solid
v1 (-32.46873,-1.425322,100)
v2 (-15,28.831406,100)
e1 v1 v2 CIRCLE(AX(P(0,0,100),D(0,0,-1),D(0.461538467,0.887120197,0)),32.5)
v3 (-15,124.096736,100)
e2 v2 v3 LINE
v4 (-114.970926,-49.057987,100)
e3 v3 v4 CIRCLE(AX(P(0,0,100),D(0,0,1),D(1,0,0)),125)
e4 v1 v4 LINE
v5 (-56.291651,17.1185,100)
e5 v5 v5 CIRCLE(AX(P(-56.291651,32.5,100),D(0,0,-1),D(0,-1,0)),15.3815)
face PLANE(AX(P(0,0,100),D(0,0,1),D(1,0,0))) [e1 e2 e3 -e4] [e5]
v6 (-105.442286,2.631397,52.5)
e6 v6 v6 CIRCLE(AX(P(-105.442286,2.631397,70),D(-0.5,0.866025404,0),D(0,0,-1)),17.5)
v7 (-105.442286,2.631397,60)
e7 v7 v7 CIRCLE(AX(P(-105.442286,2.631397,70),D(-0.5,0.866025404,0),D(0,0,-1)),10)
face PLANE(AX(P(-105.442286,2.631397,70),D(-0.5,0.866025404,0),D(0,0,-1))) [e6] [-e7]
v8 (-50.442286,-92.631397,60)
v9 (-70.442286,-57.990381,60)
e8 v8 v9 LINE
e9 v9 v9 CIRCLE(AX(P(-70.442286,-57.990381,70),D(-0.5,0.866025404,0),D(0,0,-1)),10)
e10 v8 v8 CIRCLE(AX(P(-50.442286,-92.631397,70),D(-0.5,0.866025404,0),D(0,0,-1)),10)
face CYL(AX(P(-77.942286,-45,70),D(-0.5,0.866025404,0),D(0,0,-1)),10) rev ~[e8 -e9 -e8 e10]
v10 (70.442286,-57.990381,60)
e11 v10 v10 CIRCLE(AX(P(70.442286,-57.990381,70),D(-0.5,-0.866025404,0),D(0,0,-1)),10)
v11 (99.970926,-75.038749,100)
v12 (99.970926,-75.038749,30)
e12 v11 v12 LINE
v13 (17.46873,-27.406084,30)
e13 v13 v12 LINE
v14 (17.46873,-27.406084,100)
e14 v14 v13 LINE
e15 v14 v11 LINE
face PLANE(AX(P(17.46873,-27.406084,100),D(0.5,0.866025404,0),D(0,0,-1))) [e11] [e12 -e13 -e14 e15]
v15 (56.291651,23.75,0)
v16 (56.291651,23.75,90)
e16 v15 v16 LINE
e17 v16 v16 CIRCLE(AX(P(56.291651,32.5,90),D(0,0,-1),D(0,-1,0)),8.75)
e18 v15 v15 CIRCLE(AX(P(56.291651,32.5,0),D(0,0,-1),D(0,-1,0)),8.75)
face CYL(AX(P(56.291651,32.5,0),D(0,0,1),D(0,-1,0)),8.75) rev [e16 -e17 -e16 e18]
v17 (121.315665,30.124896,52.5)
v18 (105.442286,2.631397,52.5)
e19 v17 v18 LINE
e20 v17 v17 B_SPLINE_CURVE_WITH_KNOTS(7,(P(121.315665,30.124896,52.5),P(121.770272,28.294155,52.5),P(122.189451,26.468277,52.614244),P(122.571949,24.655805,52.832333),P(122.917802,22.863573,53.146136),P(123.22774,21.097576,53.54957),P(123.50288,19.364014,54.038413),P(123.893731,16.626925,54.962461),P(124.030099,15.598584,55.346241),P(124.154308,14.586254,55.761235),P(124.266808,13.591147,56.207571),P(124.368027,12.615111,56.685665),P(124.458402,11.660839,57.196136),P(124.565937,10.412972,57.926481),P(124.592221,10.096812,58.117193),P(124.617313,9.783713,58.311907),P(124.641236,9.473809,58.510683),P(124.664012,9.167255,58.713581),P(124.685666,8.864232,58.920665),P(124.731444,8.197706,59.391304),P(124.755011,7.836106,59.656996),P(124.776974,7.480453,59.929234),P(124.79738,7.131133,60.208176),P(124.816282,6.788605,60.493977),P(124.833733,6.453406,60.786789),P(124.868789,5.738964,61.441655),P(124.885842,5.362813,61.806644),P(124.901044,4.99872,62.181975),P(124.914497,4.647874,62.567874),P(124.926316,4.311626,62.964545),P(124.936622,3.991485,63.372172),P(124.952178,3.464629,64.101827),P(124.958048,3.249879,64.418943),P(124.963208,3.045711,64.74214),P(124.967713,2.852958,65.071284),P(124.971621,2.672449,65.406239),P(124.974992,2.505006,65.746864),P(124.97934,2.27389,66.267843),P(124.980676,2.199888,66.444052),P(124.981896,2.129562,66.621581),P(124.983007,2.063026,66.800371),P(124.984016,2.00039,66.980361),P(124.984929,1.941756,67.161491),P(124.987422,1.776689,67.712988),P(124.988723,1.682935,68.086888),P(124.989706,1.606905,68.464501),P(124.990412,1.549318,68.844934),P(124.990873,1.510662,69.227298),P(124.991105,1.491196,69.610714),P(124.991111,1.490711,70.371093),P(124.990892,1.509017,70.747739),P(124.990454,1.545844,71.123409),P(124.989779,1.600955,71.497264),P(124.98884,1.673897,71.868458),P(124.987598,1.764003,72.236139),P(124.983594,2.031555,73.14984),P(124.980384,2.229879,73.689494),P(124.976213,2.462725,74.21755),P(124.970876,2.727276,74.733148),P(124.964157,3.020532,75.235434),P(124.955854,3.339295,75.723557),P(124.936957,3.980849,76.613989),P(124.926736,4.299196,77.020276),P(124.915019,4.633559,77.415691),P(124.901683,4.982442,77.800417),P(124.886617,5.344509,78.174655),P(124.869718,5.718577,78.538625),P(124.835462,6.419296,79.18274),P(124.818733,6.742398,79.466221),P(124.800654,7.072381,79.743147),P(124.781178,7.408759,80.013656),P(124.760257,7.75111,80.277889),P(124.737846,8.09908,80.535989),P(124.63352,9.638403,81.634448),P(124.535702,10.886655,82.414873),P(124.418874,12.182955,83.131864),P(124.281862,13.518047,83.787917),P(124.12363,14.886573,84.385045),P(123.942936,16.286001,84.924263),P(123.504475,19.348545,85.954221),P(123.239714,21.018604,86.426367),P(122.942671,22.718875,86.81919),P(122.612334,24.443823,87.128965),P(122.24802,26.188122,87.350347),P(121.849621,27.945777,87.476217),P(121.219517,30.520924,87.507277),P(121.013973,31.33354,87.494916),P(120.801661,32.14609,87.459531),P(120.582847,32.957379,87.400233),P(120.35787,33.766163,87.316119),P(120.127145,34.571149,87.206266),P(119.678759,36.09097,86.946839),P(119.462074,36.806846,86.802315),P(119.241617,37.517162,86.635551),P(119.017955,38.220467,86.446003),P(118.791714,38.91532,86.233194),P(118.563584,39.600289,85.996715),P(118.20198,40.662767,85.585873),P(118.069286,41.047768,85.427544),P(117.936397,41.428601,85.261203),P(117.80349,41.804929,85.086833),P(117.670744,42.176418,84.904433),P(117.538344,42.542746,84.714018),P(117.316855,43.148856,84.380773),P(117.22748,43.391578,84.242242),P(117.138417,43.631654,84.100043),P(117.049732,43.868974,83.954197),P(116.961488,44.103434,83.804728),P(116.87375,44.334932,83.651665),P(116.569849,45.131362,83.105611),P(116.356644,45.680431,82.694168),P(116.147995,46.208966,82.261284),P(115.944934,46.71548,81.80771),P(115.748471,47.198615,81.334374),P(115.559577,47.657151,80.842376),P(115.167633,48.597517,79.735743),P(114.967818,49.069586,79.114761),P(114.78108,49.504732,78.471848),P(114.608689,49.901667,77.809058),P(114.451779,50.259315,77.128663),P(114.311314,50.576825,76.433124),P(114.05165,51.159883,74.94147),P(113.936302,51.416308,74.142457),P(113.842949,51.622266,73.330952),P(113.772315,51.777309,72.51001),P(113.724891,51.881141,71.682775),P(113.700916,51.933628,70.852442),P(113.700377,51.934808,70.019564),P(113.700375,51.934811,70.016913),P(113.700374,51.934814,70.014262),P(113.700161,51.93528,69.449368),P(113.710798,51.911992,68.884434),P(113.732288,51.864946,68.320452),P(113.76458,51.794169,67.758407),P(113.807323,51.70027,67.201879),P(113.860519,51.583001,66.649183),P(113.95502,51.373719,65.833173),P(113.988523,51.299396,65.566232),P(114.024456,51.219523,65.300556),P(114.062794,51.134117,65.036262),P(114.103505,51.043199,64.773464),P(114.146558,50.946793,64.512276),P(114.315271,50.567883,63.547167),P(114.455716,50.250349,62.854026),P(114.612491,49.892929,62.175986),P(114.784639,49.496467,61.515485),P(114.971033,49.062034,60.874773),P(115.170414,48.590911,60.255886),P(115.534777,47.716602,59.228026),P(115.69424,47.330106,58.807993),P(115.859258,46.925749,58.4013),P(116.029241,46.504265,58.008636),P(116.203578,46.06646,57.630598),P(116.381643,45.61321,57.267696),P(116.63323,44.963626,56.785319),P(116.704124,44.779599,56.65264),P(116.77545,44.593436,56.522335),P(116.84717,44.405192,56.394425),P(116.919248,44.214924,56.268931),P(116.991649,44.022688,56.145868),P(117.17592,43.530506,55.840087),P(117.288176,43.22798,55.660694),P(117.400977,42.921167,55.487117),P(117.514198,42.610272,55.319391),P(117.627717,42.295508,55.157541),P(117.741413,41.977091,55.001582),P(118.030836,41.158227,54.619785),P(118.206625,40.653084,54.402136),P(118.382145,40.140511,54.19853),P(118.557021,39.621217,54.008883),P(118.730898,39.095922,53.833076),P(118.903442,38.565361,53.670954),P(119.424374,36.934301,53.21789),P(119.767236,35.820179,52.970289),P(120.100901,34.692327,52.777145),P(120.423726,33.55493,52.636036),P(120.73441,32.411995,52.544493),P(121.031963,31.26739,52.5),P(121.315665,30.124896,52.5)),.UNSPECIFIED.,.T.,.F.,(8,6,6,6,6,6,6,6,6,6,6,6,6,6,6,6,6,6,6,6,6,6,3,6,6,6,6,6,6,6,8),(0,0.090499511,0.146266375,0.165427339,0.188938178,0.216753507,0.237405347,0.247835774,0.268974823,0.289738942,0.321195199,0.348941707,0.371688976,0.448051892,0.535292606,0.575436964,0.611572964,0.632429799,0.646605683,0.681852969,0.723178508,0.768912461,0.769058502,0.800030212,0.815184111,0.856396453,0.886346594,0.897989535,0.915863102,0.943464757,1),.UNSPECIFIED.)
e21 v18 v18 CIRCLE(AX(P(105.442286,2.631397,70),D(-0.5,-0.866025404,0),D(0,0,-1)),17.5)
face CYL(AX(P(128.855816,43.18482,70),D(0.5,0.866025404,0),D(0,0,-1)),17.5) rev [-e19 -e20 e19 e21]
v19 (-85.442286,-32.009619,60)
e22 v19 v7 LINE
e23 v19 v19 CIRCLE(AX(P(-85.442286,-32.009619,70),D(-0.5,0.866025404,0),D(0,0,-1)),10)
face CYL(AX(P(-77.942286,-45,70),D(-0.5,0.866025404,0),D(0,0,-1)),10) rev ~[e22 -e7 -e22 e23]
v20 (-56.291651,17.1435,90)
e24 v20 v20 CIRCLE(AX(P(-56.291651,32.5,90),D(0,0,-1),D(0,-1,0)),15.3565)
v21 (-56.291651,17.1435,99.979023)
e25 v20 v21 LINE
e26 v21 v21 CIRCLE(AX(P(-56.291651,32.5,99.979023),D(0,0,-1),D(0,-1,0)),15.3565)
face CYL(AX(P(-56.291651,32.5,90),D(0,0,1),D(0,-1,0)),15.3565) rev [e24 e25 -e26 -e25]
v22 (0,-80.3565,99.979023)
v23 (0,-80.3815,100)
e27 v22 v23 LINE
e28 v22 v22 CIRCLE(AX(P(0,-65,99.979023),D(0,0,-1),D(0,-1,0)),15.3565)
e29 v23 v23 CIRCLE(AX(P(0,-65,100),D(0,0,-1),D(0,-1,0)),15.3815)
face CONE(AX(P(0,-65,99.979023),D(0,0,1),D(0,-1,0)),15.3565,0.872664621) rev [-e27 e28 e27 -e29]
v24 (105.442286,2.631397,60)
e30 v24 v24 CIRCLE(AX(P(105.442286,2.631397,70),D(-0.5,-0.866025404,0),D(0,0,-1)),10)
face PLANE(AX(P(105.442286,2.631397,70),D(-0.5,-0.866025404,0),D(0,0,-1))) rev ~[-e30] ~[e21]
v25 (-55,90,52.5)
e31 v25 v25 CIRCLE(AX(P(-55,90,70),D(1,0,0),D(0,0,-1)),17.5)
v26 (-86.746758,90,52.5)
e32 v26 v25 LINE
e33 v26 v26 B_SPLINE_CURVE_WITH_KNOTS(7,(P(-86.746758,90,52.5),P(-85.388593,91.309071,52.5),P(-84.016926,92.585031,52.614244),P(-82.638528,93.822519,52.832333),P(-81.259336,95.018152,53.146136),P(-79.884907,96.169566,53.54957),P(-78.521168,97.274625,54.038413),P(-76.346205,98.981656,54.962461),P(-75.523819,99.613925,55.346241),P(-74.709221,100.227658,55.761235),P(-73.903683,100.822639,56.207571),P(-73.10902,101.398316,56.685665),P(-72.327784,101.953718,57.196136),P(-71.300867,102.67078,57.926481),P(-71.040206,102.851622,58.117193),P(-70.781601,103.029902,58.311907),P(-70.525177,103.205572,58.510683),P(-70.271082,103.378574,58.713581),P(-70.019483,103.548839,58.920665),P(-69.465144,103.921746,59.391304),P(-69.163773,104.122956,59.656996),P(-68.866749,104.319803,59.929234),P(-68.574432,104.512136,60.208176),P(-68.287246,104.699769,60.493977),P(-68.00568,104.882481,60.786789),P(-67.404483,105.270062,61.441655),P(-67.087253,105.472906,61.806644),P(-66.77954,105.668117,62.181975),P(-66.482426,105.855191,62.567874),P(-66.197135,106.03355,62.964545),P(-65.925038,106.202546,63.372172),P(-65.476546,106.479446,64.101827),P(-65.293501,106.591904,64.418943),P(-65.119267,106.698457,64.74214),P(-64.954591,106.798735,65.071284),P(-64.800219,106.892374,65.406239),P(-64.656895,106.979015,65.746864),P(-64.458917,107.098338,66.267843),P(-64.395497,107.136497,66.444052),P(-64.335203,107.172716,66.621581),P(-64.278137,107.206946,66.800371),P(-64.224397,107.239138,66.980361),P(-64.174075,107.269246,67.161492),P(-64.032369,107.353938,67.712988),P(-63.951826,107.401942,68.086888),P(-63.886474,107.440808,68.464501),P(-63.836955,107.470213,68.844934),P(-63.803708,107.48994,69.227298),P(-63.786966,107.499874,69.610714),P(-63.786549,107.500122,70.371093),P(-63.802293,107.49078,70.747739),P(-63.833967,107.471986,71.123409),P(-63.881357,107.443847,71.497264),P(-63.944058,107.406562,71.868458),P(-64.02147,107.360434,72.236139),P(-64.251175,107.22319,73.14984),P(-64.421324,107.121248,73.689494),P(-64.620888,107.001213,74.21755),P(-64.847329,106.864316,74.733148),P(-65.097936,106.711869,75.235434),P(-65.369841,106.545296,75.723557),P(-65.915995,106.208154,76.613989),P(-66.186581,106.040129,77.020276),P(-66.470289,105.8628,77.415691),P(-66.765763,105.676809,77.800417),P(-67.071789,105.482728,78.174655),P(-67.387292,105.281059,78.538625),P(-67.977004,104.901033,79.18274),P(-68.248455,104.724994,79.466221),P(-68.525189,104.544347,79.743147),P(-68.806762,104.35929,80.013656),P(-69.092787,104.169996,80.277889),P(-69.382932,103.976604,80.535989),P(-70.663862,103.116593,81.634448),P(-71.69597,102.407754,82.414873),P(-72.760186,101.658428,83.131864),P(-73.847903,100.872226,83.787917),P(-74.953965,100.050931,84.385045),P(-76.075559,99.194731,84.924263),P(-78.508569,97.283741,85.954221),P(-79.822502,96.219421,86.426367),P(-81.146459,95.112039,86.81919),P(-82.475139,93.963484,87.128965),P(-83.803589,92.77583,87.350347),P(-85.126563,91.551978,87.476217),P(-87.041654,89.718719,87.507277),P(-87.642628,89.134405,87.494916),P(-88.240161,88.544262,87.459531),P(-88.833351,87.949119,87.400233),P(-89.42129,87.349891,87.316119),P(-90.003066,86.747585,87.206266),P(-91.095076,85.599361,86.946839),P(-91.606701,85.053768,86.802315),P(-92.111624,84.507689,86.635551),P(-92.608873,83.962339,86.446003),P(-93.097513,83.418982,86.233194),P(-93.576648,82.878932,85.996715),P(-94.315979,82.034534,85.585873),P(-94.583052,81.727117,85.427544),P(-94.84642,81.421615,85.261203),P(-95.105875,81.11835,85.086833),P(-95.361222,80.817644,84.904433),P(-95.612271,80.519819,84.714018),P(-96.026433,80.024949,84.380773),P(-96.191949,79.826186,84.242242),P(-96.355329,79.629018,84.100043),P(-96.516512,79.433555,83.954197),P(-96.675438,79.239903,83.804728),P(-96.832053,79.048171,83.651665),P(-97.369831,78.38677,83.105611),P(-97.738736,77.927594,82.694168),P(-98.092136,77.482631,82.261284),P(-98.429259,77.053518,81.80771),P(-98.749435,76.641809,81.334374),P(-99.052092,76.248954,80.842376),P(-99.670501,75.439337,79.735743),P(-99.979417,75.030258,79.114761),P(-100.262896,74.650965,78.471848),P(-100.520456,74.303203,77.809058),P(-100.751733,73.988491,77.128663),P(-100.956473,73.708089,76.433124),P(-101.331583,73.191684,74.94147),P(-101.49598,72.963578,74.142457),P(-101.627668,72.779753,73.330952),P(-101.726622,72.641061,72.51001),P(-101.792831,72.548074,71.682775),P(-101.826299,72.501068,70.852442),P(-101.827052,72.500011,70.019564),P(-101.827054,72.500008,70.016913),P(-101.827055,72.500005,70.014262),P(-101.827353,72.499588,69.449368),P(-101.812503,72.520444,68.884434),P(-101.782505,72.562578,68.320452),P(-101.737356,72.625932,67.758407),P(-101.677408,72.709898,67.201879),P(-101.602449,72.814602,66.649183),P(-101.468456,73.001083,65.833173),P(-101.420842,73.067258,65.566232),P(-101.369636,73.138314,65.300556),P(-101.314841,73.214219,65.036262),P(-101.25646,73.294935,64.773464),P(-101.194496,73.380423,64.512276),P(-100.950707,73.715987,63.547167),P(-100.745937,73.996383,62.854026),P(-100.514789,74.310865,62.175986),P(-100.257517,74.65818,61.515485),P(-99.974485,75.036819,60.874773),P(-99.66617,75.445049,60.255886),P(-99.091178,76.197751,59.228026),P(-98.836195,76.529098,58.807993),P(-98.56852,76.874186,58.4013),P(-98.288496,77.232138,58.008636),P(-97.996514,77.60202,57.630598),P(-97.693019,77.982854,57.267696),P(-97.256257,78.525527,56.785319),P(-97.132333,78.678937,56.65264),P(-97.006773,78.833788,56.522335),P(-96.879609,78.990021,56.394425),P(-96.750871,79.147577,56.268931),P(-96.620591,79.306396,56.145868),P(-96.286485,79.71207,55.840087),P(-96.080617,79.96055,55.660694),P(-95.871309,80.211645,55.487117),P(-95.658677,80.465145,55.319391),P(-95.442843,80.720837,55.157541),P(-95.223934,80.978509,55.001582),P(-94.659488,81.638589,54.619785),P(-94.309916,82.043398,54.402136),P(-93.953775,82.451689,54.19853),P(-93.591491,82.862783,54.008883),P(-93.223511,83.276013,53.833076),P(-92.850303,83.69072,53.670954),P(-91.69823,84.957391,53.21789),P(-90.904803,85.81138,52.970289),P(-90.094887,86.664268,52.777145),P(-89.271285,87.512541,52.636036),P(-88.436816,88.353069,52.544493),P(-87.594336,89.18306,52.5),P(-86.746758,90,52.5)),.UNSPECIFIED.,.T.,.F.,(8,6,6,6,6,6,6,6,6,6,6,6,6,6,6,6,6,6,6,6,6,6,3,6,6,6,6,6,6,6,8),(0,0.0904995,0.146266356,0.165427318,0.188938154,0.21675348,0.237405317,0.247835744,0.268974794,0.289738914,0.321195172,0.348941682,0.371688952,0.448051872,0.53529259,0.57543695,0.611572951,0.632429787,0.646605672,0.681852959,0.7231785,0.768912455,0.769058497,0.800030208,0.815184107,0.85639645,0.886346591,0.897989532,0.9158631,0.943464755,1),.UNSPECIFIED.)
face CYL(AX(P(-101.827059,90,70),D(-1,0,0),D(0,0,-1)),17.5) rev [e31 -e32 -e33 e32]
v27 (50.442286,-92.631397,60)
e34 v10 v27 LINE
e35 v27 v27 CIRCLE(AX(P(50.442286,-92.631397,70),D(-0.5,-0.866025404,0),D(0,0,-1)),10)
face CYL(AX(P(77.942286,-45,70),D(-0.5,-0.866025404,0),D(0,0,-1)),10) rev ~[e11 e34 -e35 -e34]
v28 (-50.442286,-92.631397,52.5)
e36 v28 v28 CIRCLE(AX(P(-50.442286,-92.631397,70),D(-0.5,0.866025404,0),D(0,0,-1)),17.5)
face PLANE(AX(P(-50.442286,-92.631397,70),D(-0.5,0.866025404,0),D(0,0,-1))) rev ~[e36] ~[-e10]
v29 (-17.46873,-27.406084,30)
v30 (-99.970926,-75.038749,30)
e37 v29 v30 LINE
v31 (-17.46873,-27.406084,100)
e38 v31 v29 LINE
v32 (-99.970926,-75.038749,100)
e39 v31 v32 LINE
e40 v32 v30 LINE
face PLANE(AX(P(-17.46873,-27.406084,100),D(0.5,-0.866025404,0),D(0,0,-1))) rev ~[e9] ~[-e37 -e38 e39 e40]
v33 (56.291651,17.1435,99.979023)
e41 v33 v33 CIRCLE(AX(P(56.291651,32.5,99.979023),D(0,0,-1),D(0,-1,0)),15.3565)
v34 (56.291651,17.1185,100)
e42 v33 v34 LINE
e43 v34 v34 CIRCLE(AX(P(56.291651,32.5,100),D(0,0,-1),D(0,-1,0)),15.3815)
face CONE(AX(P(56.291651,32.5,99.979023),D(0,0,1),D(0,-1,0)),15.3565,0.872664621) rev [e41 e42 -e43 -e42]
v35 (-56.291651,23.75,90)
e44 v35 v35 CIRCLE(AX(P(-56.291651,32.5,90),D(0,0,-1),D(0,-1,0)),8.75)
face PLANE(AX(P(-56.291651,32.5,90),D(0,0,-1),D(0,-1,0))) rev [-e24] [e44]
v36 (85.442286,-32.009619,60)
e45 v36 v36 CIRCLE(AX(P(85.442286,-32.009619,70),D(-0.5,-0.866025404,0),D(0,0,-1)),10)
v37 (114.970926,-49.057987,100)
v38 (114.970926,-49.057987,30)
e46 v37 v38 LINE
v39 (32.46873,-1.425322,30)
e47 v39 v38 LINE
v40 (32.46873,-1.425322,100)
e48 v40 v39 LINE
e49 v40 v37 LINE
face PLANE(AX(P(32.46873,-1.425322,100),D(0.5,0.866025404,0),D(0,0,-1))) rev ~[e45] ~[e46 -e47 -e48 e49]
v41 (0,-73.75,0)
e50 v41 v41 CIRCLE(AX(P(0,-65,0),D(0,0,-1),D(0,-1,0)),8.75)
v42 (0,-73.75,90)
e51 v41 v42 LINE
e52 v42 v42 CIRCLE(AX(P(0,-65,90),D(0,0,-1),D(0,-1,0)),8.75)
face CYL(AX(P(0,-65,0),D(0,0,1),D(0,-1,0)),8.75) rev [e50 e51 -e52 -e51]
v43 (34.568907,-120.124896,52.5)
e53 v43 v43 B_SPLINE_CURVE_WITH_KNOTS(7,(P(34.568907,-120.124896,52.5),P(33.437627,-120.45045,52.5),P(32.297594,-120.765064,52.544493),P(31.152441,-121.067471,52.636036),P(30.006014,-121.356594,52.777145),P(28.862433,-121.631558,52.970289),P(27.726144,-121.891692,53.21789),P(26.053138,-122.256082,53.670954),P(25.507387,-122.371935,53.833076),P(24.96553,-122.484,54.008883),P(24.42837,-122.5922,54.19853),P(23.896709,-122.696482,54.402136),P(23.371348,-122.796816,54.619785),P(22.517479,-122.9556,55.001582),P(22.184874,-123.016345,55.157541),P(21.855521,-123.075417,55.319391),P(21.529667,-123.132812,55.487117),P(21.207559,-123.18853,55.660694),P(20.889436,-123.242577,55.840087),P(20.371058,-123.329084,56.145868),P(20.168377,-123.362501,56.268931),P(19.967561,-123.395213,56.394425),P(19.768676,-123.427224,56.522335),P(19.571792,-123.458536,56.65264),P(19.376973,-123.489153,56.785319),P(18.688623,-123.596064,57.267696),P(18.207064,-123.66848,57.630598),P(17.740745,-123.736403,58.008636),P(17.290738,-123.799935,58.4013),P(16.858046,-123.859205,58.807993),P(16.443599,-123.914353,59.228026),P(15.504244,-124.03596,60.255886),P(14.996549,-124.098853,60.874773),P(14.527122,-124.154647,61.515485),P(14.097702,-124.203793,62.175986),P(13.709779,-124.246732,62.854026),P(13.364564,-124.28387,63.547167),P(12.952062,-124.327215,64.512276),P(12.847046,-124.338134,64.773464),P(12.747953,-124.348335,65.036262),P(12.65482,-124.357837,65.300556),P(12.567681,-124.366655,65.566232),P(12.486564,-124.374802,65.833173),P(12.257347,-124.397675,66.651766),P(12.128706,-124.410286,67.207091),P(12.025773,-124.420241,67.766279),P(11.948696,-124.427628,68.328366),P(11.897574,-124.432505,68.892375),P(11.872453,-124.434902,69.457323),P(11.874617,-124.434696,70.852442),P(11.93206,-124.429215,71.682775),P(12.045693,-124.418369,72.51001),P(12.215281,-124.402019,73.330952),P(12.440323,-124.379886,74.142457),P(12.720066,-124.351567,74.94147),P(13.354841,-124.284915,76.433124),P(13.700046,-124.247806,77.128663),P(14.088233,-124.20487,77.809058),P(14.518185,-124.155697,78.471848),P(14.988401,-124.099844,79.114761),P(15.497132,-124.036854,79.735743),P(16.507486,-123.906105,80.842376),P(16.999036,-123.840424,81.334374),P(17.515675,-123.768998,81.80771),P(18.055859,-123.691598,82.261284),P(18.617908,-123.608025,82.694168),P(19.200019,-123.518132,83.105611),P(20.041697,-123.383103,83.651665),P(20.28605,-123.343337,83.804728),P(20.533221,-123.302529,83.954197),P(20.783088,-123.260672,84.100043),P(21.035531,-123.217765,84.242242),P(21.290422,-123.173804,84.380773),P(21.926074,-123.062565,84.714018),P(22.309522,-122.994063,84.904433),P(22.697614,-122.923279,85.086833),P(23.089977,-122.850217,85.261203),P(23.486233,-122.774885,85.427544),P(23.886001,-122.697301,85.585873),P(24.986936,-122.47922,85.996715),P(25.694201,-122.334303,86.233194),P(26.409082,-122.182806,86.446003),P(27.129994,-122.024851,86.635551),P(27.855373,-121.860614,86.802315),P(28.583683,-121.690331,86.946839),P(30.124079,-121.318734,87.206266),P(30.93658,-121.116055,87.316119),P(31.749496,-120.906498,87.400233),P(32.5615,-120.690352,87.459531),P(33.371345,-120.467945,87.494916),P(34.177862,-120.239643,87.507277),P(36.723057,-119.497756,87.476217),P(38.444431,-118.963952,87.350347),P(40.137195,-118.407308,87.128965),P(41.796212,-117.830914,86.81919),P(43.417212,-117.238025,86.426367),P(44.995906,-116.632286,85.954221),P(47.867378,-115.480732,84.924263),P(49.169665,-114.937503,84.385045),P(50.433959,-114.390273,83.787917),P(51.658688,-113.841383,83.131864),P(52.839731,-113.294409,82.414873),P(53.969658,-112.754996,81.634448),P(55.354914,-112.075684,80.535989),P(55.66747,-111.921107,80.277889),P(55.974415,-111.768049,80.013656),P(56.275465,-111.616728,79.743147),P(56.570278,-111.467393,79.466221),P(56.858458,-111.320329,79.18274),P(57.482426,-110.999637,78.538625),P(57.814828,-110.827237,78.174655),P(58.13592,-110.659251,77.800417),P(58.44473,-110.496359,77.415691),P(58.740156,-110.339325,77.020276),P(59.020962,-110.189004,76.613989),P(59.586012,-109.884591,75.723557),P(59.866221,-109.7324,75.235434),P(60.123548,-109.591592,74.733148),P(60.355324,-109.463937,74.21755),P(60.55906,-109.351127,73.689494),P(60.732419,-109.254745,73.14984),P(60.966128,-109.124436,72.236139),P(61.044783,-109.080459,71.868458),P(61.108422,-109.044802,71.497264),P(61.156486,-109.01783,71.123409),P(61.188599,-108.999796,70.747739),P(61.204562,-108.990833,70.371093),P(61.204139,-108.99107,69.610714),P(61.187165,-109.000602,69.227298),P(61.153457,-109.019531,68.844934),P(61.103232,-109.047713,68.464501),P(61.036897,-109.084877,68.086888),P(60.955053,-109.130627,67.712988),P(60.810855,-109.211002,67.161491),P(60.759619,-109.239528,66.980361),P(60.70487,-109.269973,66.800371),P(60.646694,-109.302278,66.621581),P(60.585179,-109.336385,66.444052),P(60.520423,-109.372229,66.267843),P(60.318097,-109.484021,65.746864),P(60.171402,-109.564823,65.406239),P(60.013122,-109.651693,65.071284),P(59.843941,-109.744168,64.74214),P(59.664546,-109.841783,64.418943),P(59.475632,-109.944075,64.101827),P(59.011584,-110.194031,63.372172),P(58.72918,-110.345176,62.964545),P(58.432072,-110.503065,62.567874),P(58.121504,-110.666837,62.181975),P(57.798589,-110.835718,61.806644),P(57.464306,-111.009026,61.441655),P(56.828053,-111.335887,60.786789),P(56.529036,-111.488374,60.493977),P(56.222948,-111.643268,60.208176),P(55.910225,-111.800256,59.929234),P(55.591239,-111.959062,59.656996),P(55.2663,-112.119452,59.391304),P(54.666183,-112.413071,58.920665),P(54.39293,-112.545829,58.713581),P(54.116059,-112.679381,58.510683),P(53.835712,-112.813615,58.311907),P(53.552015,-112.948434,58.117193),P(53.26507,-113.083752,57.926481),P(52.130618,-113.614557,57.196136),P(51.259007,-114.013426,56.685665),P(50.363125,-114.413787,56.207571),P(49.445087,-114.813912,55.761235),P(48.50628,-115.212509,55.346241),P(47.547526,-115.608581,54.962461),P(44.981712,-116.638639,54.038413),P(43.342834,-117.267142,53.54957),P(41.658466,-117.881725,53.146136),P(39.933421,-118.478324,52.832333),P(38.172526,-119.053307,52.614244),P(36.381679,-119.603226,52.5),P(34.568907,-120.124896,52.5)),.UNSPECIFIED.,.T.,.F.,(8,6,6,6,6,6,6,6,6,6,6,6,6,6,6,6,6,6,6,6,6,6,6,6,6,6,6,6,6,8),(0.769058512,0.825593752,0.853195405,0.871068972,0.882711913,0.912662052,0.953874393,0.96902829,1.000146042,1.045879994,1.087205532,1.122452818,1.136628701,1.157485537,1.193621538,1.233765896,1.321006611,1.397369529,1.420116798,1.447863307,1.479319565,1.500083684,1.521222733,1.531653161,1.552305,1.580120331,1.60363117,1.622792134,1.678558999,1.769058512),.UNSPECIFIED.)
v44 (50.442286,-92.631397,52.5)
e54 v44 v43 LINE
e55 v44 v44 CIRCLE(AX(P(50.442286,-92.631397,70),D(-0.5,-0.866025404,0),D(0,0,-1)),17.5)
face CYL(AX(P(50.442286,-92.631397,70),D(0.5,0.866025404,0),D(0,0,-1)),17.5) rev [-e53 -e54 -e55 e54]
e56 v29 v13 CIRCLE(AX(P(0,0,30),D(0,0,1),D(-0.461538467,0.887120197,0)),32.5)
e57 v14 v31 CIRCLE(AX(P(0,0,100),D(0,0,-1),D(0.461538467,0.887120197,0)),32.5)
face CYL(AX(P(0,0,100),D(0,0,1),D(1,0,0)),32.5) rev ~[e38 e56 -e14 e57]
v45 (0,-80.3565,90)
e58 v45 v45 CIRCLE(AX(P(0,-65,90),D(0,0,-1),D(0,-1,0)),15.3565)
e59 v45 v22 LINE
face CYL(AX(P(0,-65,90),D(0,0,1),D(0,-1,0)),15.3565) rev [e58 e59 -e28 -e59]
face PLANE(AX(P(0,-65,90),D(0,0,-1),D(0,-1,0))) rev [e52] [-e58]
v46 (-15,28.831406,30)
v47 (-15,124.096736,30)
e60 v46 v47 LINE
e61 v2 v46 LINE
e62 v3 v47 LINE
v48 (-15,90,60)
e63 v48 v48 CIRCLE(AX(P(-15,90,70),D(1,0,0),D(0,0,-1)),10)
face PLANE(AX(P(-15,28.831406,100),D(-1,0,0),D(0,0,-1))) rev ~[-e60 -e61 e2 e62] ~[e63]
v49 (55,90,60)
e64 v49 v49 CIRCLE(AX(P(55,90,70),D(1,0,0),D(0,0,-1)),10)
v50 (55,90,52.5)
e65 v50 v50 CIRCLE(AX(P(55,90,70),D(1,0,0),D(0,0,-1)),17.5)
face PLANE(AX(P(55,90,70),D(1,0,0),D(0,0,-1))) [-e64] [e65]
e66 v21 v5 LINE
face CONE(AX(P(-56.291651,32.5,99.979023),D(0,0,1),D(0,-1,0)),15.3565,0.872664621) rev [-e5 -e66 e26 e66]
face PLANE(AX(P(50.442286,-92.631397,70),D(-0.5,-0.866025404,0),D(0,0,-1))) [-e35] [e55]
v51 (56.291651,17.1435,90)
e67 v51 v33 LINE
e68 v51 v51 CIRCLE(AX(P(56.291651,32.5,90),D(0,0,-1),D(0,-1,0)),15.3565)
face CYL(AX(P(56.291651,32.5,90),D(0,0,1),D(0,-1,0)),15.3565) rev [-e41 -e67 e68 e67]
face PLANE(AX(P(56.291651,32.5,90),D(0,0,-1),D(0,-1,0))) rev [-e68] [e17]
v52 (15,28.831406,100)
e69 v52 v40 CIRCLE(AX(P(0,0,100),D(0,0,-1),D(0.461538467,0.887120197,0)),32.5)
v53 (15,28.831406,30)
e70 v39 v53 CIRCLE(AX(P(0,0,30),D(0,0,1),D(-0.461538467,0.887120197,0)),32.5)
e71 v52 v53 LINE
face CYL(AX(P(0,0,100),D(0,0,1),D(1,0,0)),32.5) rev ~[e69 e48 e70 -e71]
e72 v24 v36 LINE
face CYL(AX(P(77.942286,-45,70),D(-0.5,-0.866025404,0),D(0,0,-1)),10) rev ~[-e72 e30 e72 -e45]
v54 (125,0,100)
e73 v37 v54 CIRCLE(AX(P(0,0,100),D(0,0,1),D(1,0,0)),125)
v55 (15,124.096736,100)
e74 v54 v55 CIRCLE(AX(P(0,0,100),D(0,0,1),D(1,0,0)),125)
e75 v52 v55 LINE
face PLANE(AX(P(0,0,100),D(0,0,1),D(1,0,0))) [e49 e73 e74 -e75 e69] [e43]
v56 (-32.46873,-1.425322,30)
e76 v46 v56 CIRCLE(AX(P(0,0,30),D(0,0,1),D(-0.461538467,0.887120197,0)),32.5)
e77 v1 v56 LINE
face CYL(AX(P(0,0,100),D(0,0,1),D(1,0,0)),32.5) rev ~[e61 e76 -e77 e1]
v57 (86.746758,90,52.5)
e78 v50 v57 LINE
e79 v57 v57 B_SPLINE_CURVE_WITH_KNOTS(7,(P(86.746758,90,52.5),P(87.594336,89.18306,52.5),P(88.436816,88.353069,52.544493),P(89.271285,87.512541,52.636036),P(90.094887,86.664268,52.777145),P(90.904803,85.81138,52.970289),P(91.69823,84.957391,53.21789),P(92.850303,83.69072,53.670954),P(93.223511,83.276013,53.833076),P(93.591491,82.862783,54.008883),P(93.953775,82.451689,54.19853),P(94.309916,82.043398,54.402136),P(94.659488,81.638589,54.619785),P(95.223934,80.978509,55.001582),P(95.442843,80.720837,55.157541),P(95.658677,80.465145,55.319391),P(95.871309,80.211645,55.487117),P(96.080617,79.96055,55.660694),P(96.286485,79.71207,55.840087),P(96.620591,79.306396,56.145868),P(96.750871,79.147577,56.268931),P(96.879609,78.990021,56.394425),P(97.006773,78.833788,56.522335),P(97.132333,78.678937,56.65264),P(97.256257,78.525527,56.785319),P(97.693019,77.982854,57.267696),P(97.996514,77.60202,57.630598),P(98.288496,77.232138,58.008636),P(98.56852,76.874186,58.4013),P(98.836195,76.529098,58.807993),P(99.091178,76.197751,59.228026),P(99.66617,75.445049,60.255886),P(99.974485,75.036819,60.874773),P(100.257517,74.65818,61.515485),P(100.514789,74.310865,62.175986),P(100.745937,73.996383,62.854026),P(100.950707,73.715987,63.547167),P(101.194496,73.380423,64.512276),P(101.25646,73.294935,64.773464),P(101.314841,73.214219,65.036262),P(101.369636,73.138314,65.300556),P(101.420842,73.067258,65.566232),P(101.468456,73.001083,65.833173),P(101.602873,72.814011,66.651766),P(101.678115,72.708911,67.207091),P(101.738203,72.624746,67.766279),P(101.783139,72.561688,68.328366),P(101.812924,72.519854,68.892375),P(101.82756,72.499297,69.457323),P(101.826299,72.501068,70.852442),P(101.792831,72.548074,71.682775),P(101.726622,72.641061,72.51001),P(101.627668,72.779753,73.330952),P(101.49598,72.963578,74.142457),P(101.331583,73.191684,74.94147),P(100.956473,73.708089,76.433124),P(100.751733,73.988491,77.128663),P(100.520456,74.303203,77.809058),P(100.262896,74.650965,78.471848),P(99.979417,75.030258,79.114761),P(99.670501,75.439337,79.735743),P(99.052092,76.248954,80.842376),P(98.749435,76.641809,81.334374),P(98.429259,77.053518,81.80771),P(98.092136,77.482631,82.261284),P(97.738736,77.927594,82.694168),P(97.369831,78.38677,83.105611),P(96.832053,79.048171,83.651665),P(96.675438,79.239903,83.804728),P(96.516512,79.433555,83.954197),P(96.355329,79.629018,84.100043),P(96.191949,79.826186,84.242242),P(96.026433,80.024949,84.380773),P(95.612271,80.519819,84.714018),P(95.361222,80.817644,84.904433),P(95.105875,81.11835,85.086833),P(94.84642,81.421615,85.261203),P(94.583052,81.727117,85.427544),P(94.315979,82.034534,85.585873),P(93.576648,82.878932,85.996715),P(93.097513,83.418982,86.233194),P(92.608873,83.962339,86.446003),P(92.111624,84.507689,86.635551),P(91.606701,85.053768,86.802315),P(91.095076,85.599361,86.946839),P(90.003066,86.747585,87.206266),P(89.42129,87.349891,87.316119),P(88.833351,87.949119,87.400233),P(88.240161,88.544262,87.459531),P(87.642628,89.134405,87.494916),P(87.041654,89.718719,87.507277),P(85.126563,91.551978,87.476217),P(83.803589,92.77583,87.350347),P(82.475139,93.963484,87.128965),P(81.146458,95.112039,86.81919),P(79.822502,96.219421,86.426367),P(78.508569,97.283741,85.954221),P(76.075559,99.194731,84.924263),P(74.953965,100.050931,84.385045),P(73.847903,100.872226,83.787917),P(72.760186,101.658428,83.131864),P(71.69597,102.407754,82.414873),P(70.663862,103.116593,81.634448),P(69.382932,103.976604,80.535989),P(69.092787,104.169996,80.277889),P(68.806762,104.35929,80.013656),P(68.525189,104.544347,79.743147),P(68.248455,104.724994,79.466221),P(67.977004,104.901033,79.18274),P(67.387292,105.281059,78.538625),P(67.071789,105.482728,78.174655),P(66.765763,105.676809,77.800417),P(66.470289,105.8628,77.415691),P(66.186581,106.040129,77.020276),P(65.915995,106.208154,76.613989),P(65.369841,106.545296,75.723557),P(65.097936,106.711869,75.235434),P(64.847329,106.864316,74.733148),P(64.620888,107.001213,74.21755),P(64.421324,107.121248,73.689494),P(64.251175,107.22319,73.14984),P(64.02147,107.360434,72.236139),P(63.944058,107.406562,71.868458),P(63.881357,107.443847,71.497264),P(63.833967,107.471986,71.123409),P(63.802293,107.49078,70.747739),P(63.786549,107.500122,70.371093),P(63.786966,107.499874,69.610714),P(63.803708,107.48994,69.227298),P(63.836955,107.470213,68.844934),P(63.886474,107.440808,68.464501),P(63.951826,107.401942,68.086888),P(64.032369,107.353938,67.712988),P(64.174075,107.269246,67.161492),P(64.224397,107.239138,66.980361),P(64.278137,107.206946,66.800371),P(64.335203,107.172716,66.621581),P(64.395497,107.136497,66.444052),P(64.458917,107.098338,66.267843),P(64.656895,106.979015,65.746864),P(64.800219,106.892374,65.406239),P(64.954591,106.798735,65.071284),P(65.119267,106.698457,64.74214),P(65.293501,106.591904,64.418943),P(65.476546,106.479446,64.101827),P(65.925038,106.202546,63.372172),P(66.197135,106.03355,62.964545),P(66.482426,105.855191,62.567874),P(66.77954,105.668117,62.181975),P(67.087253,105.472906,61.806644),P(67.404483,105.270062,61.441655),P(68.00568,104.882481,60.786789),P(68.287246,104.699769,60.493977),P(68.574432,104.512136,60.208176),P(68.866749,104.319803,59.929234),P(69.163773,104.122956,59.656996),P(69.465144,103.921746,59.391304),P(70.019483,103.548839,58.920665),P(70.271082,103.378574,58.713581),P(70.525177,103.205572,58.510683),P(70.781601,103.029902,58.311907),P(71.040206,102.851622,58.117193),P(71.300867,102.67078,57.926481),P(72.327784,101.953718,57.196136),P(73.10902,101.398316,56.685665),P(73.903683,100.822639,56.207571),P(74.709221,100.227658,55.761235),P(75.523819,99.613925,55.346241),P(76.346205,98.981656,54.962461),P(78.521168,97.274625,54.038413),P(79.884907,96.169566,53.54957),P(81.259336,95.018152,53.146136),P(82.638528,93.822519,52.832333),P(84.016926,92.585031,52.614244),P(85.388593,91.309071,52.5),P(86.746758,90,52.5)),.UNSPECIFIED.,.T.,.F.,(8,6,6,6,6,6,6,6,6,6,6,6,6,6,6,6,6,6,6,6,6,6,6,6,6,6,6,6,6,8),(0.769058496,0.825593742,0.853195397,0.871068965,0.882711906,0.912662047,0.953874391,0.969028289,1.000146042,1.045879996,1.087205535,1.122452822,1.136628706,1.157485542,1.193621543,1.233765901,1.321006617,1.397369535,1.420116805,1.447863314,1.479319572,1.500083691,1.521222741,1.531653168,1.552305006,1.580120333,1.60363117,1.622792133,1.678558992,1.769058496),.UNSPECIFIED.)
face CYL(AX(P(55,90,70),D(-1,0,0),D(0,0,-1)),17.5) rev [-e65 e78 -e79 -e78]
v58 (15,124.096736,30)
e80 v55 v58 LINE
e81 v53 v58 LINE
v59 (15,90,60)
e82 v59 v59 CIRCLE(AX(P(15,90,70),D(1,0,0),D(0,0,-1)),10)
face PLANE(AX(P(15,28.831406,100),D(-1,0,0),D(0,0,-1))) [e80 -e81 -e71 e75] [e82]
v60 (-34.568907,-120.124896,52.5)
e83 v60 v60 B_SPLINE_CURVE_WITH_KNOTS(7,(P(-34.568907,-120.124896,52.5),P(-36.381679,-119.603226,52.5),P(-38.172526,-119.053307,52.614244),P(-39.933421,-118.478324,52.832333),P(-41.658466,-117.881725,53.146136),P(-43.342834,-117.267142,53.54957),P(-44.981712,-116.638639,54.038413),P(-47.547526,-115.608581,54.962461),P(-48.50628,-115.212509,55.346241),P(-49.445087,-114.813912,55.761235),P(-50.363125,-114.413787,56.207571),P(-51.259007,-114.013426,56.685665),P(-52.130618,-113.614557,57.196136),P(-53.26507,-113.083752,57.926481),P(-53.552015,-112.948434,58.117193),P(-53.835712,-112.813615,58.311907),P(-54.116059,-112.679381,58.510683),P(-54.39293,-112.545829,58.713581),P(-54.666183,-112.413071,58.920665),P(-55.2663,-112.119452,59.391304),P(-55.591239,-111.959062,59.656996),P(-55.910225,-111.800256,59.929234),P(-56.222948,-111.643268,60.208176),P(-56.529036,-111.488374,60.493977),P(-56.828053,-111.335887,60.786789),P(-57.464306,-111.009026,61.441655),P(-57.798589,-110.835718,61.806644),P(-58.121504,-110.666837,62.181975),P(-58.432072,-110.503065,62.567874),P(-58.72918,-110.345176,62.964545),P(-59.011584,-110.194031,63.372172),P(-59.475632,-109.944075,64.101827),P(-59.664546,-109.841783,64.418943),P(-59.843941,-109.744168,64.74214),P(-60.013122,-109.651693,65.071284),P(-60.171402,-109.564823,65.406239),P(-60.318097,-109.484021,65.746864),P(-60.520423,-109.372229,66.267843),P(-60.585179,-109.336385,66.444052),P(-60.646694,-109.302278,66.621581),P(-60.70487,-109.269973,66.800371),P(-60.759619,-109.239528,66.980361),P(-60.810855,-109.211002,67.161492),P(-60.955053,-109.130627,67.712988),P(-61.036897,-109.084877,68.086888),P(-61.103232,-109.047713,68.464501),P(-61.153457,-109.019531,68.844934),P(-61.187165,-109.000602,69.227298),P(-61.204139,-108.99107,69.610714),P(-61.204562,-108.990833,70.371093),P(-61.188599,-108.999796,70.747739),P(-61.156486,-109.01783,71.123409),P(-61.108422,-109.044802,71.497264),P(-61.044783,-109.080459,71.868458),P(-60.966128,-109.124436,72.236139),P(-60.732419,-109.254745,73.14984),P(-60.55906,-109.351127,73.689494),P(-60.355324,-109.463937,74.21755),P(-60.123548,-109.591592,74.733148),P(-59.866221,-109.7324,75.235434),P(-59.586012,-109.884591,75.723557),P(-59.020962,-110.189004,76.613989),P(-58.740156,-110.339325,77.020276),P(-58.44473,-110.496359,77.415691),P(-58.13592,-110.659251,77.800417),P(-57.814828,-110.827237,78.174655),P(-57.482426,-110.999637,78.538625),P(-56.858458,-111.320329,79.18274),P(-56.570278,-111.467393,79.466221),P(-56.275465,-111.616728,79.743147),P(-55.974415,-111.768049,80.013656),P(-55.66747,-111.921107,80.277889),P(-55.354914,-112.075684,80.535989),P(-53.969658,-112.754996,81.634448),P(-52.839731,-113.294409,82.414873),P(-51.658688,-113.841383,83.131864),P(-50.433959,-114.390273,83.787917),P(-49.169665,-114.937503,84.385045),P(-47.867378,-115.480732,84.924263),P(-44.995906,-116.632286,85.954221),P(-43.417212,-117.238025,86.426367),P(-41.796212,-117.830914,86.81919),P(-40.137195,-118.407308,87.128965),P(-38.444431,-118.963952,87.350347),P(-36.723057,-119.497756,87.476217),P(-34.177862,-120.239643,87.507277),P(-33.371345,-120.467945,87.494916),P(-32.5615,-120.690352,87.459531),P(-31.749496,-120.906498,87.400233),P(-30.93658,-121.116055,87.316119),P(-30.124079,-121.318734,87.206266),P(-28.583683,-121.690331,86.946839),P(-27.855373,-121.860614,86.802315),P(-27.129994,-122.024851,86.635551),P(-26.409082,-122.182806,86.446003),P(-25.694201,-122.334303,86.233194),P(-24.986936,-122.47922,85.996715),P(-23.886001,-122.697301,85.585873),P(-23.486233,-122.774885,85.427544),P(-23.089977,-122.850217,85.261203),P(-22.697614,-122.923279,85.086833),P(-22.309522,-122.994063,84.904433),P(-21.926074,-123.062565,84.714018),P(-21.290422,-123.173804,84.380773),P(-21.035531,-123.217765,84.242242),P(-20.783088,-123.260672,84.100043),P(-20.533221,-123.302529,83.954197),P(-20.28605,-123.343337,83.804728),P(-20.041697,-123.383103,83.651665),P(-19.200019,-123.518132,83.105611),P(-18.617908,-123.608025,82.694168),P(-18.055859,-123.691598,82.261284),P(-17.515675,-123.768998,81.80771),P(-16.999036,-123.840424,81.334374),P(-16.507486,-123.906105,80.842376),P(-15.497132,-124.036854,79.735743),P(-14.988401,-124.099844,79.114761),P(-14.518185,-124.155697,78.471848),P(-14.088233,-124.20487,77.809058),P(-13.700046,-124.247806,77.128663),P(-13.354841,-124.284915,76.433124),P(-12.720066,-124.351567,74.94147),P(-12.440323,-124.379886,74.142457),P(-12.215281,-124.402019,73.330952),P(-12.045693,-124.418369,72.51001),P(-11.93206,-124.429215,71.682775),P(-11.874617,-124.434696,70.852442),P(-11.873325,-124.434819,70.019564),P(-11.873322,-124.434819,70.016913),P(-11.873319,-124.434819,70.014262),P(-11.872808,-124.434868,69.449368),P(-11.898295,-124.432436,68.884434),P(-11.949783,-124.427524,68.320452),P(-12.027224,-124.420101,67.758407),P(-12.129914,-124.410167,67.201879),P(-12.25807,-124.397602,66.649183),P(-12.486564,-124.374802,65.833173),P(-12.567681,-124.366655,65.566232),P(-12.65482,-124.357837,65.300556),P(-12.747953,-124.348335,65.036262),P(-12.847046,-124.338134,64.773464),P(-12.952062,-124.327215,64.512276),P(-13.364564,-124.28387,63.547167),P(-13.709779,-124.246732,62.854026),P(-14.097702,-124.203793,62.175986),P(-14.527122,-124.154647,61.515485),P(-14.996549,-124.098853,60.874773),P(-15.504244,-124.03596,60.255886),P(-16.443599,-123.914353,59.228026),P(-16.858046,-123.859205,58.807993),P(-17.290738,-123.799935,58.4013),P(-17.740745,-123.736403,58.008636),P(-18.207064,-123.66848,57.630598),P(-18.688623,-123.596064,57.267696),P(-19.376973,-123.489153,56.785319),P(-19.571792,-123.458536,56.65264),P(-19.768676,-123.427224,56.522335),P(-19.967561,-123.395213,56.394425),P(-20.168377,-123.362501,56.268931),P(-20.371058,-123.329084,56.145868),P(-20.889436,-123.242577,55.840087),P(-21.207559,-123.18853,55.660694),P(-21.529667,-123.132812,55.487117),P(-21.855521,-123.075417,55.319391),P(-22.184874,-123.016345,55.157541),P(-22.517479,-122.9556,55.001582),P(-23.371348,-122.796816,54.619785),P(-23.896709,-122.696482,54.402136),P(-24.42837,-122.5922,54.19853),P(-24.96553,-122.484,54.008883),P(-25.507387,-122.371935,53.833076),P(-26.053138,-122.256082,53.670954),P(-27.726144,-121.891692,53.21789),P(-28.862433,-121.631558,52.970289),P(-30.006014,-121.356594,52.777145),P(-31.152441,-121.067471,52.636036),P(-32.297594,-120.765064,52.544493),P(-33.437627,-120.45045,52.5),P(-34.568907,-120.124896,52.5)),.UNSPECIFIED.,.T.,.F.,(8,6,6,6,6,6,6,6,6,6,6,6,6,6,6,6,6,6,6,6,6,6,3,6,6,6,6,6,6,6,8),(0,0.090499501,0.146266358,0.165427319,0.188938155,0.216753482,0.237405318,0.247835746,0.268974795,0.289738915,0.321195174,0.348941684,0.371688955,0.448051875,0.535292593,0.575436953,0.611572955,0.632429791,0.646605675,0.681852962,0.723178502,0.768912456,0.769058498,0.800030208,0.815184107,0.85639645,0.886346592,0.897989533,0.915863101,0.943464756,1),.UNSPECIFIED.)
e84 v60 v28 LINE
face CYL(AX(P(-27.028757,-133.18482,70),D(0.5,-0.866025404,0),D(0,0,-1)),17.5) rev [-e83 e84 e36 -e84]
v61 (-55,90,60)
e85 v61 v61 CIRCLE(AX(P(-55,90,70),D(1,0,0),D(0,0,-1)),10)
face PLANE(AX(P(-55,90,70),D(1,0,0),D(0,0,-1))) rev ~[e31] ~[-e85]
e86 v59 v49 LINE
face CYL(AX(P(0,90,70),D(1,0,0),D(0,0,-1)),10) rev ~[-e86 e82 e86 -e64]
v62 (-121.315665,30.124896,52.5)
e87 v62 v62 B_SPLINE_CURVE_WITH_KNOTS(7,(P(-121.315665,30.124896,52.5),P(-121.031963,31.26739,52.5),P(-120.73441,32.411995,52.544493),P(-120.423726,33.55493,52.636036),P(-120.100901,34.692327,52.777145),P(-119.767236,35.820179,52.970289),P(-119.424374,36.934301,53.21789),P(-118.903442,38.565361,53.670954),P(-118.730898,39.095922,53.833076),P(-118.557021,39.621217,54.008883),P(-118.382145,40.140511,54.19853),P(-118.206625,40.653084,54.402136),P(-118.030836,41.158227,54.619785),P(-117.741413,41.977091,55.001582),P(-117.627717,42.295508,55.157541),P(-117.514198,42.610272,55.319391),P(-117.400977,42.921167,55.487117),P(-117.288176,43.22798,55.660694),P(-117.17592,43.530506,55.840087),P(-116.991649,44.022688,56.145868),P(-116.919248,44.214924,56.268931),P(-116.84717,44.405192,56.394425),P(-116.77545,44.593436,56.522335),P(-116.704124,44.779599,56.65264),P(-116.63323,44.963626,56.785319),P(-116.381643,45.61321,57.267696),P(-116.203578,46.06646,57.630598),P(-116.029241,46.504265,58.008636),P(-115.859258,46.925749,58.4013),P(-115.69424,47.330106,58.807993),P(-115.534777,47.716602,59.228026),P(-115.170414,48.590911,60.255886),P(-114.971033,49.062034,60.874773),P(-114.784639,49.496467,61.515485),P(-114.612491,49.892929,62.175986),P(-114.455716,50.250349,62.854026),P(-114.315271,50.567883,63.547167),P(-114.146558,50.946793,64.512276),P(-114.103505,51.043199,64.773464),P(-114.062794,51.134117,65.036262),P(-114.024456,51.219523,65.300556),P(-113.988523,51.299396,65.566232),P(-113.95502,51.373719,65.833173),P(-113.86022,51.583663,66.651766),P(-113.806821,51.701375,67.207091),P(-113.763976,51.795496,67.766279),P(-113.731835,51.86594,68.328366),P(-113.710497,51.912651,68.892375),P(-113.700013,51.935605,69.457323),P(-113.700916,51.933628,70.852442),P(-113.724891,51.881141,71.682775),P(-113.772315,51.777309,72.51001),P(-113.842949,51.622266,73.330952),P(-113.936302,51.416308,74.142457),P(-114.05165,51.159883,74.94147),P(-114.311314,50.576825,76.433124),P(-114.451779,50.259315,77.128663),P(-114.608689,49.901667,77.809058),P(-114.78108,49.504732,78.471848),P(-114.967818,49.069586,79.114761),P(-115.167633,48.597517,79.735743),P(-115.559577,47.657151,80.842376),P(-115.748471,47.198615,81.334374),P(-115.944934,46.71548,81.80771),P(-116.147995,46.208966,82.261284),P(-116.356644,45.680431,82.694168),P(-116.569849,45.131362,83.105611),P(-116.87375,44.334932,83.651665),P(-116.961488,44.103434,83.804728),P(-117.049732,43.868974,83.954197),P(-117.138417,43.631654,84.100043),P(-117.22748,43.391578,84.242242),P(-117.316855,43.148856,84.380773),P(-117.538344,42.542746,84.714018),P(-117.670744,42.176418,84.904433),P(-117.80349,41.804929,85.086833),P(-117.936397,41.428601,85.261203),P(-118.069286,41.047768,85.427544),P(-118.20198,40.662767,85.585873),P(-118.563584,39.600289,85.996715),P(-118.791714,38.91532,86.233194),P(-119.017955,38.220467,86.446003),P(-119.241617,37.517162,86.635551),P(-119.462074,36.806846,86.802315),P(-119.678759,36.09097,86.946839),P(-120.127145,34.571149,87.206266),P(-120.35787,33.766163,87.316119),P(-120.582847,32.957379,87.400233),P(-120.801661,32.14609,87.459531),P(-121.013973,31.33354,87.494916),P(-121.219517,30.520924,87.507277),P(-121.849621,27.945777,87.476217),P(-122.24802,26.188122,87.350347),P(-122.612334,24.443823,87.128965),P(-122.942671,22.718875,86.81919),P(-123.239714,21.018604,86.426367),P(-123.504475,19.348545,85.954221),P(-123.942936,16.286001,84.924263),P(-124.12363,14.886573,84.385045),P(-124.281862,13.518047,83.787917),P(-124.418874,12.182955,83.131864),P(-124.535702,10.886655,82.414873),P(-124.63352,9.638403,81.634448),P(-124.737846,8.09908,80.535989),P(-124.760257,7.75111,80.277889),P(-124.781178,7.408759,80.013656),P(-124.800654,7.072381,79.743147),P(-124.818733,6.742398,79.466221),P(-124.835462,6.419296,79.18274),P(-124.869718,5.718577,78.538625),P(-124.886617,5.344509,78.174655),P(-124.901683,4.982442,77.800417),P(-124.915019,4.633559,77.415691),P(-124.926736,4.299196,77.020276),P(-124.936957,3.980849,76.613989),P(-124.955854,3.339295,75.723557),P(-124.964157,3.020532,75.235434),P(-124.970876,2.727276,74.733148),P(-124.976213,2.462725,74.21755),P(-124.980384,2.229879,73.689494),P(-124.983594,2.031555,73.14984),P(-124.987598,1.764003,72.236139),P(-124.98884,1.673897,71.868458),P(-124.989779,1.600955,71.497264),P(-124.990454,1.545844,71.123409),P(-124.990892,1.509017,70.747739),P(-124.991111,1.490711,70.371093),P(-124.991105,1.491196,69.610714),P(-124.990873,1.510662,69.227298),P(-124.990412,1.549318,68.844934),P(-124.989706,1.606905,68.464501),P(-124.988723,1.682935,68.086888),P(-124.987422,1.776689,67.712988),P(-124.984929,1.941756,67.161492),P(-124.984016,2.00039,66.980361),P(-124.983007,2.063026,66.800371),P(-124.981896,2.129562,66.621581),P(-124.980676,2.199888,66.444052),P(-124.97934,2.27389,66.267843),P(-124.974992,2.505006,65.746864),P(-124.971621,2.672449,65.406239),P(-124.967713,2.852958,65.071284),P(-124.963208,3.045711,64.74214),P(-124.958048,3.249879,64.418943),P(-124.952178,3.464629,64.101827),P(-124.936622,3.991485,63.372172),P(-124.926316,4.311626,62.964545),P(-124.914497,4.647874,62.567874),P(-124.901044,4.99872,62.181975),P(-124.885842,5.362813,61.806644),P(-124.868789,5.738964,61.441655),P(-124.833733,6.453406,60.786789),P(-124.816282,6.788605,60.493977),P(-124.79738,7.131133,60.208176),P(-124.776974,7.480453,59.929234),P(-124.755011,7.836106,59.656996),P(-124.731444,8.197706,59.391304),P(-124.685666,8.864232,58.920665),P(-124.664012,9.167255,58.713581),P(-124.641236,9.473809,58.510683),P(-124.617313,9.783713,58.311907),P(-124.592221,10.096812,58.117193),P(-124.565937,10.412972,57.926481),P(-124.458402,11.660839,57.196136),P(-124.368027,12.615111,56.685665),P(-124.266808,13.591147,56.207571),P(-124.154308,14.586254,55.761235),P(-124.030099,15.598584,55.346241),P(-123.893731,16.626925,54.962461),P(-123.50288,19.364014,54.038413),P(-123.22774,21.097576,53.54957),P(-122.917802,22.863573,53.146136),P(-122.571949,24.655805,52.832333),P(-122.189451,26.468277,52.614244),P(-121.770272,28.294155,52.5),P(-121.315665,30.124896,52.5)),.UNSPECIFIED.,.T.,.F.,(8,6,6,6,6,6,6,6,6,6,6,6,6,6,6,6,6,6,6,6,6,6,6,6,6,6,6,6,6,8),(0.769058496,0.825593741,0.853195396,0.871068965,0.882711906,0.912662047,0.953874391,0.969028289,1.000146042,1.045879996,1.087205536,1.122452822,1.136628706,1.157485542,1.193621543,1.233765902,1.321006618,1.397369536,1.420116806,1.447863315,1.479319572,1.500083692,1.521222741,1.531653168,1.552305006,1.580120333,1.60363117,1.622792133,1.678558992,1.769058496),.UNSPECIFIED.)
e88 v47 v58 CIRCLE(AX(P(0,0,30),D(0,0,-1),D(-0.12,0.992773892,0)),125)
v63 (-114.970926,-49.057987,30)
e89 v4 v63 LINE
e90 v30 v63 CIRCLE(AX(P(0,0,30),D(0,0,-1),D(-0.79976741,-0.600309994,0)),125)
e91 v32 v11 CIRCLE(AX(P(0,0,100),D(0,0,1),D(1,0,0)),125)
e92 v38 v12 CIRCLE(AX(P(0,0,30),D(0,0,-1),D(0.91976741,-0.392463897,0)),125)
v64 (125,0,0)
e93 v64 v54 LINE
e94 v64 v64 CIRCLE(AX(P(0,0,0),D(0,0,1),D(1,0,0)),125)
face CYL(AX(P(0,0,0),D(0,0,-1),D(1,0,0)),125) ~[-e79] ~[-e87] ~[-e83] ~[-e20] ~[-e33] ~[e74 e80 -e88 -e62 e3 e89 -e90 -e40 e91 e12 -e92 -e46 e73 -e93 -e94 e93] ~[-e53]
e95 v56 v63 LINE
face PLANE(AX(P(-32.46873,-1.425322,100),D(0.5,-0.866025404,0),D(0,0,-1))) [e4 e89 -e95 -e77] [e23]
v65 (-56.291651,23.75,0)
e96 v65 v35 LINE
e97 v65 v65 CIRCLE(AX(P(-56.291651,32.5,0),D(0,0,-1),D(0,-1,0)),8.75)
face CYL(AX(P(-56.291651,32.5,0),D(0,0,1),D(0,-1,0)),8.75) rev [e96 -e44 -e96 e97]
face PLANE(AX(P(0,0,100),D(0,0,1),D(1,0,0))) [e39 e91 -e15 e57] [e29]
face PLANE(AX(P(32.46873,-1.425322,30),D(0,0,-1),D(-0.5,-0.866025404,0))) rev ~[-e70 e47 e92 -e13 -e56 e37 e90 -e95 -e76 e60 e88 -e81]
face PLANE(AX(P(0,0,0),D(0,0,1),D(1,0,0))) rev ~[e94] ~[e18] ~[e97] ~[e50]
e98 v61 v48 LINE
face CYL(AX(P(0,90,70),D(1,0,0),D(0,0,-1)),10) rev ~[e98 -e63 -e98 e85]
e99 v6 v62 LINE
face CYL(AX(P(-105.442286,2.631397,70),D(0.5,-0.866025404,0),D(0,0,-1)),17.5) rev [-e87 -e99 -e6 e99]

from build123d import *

# Parameters (mm, degrees)
BASE_SKETCH_R                            = 125
BASE_EXTRUDE_DEPTH                       = 100
TOP_THRU_HOLE_SKETCH_R                   = 10
SHANK_HOLE_EXTRUDED_CUT_DEPTH            = 204.100960116
OUTER_START                              = -101.827059
SKETCH2_6_R                              = 17.5
SKETCH2_6_R_2                            = 10
OUTER_SLEEVE_EXTRUDED_CUT_DEPTH          = 46.827059
OUTER_START_2                            = 55
TOP_THRU_HOLE_SKETCH_9_R                 = 17.5
OUTER_SLEEVE_EXTRUDED_CUT_2_DEPTH        = 46.827059
SLOTS_START                              = 100
SKETCH1_3_R                              = 32.5
SLOTS_EXTRUDED_CUT_DEPTH                 = 70
FRONT_START                              = 28.831406
SKETCH11_W                               = 30
SKETCH11_H                               = 70
FRONT_SLOT_EXTRUDED_CUT_DEPTH            = 96.168594
CIRCULAR_JAW_PATTERN_COUNT               = 3
COUNTERBORED_HOLE_CIRCULAR_PATTERN_COUNT = 3
CBORE_FOR_M16_HEX_HEAD_BOLT1_AT_2_COUNT  = 2
CBORE_FOR_M16_HEX_HEAD_BOLT1_AT_2_PITCH  = 112.583302492
CBORE_FOR_M16_HEX_HEAD_BOLT1_AT_3_COUNT  = 2
CBORE_FOR_M16_HEX_HEAD_BOLT1_AT_3_PITCH  = 112.583302492


with BuildPart() as part:
    # Base Sketch → Base Extrude (new body)
    with BuildSketch(Plane.XY):
        Circle(BASE_SKETCH_R)
    extrude(amount=BASE_EXTRUDE_DEPTH)

    # Top Thru Hole Sketch → Shank Hole Extruded Cut (cut, symmetric)
    with BuildSketch(Plane(origin=(0, 0, 0), x_dir=(0, 0, -1), z_dir=(1, 0, 0))):
        with Locations((-70, 90)):
            Circle(TOP_THRU_HOLE_SKETCH_R)
    shank_hole_extruded_cut = extrude(amount=SHANK_HOLE_EXTRUDED_CUT_DEPTH, both=True, mode=Mode.SUBTRACT)

    # Sketch2<6> → Outer Sleeve Extruded Cut (cut)
    with BuildSketch(Plane(origin=(0, 0, 0), x_dir=(0, 0, -1), z_dir=(1, 0, 0)).offset(OUTER_START)):
        with Locations((-70, 90)):
            Circle(SKETCH2_6_R)
        with Locations((-70, 90)):
            Circle(SKETCH2_6_R_2, mode=Mode.SUBTRACT)
    outer_sleeve_extruded_cut = extrude(amount=OUTER_SLEEVE_EXTRUDED_CUT_DEPTH, mode=Mode.SUBTRACT)

    # Top Thru Hole Sketch<9> → Outer Sleeve Extruded Cut 2 (cut)
    with BuildSketch(Plane(origin=(0, 0, 0), x_dir=(0, 0, -1), z_dir=(1, 0, 0)).offset(OUTER_START_2)):
        with Locations((-70, 90)):
            Circle(TOP_THRU_HOLE_SKETCH_9_R)
    outer_sleeve_extruded_cut_2 = extrude(amount=OUTER_SLEEVE_EXTRUDED_CUT_2_DEPTH, mode=Mode.SUBTRACT)

    # Sketch1<3> → Slots Extruded Cut (cut)
    with BuildSketch(Plane.XY.offset(SLOTS_START)):
        Circle(SKETCH1_3_R)
    extrude(amount=-SLOTS_EXTRUDED_CUT_DEPTH, mode=Mode.SUBTRACT)

    # Sketch11 → Front Slot Extruded Cut (cut)
    with BuildSketch(Plane(origin=(0, 0, 0), x_dir=(1, 0, 0), z_dir=(0, 1, 0)).offset(FRONT_START)):
        with Locations((0, -65)):
            Rectangle(SKETCH11_W, SKETCH11_H)
    front_slot_extruded_cut = extrude(amount=FRONT_SLOT_EXTRUDED_CUT_DEPTH, mode=Mode.SUBTRACT)

    # Circular Jaw Pattern: Front Slot Extruded Cut ×3 about axis
    circular_jaw_pattern_axis = Axis((0, 0, 0), (0, 0, 1))
    for i in range(1, CIRCULAR_JAW_PATTERN_COUNT):
        add(front_slot_extruded_cut.rotate(circular_jaw_pattern_axis, i * 360 / CIRCULAR_JAW_PATTERN_COUNT), mode=Mode.SUBTRACT)

    # Counterbored Hole Circular Pattern: Shank Hole Extruded Cut, Outer Sleeve Extruded Cut, Outer Sleeve Extruded Cut 2 ×3 about axis
    counterbored_hole_circular_pattern_axis = Axis((0, 0, 0), (0, 0, 1))
    add([shank_hole_extruded_cut.rotate(counterbored_hole_circular_pattern_axis, i * 360 / COUNTERBORED_HOLE_CIRCULAR_PATTERN_COUNT) for i in range(1, COUNTERBORED_HOLE_CIRCULAR_PATTERN_COUNT)], mode=Mode.SUBTRACT)
    add([outer_sleeve_extruded_cut.rotate(counterbored_hole_circular_pattern_axis, i * 360 / COUNTERBORED_HOLE_CIRCULAR_PATTERN_COUNT) for i in range(1, COUNTERBORED_HOLE_CIRCULAR_PATTERN_COUNT)], mode=Mode.SUBTRACT)
    add([outer_sleeve_extruded_cut_2.rotate(counterbored_hole_circular_pattern_axis, i * 360 / COUNTERBORED_HOLE_CIRCULAR_PATTERN_COUNT) for i in range(1, COUNTERBORED_HOLE_CIRCULAR_PATTERN_COUNT)], mode=Mode.SUBTRACT)

    # Sketch15 → CBORE for M16 Hex Head Bolt1 (revolve, cut)
    with BuildSketch(Plane(origin=(56.291651246, 32.5, 100), x_dir=(0, -1, 0), z_dir=(1, 0, 0))):
        Polygon((0, 0), (0, 100), (8.75, 100), (8.75, 10), (15.3565, 10), (15.3565, 0.020977491), (15.3815, 0), align=None)
    cbore_for_m16_hex_head_bolt1 = revolve(axis=Axis((56.291651246, 32.5, 106.35), (0, 0, -1)), mode=Mode.SUBTRACT)

    # CBORE for M16 Hex Head Bolt1 at 2: CBORE for M16 Hex Head Bolt1 ×2
    with Locations(*[Vector(-0.5000000000000011, -0.866025403784438, 0) * (i * CBORE_FOR_M16_HEX_HEAD_BOLT1_AT_2_PITCH) for i in range(1, CBORE_FOR_M16_HEX_HEAD_BOLT1_AT_2_COUNT)]):
        add(cbore_for_m16_hex_head_bolt1, mode=Mode.SUBTRACT)

    # CBORE for M16 Hex Head Bolt1 at 3: CBORE for M16 Hex Head Bolt1 ×2
    with Locations(*[(-i * CBORE_FOR_M16_HEX_HEAD_BOLT1_AT_3_PITCH, 0, 0) for i in range(1, CBORE_FOR_M16_HEX_HEAD_BOLT1_AT_3_COUNT)]):
        add(cbore_for_m16_hex_head_bolt1, mode=Mode.SUBTRACT)


solid = part.part
